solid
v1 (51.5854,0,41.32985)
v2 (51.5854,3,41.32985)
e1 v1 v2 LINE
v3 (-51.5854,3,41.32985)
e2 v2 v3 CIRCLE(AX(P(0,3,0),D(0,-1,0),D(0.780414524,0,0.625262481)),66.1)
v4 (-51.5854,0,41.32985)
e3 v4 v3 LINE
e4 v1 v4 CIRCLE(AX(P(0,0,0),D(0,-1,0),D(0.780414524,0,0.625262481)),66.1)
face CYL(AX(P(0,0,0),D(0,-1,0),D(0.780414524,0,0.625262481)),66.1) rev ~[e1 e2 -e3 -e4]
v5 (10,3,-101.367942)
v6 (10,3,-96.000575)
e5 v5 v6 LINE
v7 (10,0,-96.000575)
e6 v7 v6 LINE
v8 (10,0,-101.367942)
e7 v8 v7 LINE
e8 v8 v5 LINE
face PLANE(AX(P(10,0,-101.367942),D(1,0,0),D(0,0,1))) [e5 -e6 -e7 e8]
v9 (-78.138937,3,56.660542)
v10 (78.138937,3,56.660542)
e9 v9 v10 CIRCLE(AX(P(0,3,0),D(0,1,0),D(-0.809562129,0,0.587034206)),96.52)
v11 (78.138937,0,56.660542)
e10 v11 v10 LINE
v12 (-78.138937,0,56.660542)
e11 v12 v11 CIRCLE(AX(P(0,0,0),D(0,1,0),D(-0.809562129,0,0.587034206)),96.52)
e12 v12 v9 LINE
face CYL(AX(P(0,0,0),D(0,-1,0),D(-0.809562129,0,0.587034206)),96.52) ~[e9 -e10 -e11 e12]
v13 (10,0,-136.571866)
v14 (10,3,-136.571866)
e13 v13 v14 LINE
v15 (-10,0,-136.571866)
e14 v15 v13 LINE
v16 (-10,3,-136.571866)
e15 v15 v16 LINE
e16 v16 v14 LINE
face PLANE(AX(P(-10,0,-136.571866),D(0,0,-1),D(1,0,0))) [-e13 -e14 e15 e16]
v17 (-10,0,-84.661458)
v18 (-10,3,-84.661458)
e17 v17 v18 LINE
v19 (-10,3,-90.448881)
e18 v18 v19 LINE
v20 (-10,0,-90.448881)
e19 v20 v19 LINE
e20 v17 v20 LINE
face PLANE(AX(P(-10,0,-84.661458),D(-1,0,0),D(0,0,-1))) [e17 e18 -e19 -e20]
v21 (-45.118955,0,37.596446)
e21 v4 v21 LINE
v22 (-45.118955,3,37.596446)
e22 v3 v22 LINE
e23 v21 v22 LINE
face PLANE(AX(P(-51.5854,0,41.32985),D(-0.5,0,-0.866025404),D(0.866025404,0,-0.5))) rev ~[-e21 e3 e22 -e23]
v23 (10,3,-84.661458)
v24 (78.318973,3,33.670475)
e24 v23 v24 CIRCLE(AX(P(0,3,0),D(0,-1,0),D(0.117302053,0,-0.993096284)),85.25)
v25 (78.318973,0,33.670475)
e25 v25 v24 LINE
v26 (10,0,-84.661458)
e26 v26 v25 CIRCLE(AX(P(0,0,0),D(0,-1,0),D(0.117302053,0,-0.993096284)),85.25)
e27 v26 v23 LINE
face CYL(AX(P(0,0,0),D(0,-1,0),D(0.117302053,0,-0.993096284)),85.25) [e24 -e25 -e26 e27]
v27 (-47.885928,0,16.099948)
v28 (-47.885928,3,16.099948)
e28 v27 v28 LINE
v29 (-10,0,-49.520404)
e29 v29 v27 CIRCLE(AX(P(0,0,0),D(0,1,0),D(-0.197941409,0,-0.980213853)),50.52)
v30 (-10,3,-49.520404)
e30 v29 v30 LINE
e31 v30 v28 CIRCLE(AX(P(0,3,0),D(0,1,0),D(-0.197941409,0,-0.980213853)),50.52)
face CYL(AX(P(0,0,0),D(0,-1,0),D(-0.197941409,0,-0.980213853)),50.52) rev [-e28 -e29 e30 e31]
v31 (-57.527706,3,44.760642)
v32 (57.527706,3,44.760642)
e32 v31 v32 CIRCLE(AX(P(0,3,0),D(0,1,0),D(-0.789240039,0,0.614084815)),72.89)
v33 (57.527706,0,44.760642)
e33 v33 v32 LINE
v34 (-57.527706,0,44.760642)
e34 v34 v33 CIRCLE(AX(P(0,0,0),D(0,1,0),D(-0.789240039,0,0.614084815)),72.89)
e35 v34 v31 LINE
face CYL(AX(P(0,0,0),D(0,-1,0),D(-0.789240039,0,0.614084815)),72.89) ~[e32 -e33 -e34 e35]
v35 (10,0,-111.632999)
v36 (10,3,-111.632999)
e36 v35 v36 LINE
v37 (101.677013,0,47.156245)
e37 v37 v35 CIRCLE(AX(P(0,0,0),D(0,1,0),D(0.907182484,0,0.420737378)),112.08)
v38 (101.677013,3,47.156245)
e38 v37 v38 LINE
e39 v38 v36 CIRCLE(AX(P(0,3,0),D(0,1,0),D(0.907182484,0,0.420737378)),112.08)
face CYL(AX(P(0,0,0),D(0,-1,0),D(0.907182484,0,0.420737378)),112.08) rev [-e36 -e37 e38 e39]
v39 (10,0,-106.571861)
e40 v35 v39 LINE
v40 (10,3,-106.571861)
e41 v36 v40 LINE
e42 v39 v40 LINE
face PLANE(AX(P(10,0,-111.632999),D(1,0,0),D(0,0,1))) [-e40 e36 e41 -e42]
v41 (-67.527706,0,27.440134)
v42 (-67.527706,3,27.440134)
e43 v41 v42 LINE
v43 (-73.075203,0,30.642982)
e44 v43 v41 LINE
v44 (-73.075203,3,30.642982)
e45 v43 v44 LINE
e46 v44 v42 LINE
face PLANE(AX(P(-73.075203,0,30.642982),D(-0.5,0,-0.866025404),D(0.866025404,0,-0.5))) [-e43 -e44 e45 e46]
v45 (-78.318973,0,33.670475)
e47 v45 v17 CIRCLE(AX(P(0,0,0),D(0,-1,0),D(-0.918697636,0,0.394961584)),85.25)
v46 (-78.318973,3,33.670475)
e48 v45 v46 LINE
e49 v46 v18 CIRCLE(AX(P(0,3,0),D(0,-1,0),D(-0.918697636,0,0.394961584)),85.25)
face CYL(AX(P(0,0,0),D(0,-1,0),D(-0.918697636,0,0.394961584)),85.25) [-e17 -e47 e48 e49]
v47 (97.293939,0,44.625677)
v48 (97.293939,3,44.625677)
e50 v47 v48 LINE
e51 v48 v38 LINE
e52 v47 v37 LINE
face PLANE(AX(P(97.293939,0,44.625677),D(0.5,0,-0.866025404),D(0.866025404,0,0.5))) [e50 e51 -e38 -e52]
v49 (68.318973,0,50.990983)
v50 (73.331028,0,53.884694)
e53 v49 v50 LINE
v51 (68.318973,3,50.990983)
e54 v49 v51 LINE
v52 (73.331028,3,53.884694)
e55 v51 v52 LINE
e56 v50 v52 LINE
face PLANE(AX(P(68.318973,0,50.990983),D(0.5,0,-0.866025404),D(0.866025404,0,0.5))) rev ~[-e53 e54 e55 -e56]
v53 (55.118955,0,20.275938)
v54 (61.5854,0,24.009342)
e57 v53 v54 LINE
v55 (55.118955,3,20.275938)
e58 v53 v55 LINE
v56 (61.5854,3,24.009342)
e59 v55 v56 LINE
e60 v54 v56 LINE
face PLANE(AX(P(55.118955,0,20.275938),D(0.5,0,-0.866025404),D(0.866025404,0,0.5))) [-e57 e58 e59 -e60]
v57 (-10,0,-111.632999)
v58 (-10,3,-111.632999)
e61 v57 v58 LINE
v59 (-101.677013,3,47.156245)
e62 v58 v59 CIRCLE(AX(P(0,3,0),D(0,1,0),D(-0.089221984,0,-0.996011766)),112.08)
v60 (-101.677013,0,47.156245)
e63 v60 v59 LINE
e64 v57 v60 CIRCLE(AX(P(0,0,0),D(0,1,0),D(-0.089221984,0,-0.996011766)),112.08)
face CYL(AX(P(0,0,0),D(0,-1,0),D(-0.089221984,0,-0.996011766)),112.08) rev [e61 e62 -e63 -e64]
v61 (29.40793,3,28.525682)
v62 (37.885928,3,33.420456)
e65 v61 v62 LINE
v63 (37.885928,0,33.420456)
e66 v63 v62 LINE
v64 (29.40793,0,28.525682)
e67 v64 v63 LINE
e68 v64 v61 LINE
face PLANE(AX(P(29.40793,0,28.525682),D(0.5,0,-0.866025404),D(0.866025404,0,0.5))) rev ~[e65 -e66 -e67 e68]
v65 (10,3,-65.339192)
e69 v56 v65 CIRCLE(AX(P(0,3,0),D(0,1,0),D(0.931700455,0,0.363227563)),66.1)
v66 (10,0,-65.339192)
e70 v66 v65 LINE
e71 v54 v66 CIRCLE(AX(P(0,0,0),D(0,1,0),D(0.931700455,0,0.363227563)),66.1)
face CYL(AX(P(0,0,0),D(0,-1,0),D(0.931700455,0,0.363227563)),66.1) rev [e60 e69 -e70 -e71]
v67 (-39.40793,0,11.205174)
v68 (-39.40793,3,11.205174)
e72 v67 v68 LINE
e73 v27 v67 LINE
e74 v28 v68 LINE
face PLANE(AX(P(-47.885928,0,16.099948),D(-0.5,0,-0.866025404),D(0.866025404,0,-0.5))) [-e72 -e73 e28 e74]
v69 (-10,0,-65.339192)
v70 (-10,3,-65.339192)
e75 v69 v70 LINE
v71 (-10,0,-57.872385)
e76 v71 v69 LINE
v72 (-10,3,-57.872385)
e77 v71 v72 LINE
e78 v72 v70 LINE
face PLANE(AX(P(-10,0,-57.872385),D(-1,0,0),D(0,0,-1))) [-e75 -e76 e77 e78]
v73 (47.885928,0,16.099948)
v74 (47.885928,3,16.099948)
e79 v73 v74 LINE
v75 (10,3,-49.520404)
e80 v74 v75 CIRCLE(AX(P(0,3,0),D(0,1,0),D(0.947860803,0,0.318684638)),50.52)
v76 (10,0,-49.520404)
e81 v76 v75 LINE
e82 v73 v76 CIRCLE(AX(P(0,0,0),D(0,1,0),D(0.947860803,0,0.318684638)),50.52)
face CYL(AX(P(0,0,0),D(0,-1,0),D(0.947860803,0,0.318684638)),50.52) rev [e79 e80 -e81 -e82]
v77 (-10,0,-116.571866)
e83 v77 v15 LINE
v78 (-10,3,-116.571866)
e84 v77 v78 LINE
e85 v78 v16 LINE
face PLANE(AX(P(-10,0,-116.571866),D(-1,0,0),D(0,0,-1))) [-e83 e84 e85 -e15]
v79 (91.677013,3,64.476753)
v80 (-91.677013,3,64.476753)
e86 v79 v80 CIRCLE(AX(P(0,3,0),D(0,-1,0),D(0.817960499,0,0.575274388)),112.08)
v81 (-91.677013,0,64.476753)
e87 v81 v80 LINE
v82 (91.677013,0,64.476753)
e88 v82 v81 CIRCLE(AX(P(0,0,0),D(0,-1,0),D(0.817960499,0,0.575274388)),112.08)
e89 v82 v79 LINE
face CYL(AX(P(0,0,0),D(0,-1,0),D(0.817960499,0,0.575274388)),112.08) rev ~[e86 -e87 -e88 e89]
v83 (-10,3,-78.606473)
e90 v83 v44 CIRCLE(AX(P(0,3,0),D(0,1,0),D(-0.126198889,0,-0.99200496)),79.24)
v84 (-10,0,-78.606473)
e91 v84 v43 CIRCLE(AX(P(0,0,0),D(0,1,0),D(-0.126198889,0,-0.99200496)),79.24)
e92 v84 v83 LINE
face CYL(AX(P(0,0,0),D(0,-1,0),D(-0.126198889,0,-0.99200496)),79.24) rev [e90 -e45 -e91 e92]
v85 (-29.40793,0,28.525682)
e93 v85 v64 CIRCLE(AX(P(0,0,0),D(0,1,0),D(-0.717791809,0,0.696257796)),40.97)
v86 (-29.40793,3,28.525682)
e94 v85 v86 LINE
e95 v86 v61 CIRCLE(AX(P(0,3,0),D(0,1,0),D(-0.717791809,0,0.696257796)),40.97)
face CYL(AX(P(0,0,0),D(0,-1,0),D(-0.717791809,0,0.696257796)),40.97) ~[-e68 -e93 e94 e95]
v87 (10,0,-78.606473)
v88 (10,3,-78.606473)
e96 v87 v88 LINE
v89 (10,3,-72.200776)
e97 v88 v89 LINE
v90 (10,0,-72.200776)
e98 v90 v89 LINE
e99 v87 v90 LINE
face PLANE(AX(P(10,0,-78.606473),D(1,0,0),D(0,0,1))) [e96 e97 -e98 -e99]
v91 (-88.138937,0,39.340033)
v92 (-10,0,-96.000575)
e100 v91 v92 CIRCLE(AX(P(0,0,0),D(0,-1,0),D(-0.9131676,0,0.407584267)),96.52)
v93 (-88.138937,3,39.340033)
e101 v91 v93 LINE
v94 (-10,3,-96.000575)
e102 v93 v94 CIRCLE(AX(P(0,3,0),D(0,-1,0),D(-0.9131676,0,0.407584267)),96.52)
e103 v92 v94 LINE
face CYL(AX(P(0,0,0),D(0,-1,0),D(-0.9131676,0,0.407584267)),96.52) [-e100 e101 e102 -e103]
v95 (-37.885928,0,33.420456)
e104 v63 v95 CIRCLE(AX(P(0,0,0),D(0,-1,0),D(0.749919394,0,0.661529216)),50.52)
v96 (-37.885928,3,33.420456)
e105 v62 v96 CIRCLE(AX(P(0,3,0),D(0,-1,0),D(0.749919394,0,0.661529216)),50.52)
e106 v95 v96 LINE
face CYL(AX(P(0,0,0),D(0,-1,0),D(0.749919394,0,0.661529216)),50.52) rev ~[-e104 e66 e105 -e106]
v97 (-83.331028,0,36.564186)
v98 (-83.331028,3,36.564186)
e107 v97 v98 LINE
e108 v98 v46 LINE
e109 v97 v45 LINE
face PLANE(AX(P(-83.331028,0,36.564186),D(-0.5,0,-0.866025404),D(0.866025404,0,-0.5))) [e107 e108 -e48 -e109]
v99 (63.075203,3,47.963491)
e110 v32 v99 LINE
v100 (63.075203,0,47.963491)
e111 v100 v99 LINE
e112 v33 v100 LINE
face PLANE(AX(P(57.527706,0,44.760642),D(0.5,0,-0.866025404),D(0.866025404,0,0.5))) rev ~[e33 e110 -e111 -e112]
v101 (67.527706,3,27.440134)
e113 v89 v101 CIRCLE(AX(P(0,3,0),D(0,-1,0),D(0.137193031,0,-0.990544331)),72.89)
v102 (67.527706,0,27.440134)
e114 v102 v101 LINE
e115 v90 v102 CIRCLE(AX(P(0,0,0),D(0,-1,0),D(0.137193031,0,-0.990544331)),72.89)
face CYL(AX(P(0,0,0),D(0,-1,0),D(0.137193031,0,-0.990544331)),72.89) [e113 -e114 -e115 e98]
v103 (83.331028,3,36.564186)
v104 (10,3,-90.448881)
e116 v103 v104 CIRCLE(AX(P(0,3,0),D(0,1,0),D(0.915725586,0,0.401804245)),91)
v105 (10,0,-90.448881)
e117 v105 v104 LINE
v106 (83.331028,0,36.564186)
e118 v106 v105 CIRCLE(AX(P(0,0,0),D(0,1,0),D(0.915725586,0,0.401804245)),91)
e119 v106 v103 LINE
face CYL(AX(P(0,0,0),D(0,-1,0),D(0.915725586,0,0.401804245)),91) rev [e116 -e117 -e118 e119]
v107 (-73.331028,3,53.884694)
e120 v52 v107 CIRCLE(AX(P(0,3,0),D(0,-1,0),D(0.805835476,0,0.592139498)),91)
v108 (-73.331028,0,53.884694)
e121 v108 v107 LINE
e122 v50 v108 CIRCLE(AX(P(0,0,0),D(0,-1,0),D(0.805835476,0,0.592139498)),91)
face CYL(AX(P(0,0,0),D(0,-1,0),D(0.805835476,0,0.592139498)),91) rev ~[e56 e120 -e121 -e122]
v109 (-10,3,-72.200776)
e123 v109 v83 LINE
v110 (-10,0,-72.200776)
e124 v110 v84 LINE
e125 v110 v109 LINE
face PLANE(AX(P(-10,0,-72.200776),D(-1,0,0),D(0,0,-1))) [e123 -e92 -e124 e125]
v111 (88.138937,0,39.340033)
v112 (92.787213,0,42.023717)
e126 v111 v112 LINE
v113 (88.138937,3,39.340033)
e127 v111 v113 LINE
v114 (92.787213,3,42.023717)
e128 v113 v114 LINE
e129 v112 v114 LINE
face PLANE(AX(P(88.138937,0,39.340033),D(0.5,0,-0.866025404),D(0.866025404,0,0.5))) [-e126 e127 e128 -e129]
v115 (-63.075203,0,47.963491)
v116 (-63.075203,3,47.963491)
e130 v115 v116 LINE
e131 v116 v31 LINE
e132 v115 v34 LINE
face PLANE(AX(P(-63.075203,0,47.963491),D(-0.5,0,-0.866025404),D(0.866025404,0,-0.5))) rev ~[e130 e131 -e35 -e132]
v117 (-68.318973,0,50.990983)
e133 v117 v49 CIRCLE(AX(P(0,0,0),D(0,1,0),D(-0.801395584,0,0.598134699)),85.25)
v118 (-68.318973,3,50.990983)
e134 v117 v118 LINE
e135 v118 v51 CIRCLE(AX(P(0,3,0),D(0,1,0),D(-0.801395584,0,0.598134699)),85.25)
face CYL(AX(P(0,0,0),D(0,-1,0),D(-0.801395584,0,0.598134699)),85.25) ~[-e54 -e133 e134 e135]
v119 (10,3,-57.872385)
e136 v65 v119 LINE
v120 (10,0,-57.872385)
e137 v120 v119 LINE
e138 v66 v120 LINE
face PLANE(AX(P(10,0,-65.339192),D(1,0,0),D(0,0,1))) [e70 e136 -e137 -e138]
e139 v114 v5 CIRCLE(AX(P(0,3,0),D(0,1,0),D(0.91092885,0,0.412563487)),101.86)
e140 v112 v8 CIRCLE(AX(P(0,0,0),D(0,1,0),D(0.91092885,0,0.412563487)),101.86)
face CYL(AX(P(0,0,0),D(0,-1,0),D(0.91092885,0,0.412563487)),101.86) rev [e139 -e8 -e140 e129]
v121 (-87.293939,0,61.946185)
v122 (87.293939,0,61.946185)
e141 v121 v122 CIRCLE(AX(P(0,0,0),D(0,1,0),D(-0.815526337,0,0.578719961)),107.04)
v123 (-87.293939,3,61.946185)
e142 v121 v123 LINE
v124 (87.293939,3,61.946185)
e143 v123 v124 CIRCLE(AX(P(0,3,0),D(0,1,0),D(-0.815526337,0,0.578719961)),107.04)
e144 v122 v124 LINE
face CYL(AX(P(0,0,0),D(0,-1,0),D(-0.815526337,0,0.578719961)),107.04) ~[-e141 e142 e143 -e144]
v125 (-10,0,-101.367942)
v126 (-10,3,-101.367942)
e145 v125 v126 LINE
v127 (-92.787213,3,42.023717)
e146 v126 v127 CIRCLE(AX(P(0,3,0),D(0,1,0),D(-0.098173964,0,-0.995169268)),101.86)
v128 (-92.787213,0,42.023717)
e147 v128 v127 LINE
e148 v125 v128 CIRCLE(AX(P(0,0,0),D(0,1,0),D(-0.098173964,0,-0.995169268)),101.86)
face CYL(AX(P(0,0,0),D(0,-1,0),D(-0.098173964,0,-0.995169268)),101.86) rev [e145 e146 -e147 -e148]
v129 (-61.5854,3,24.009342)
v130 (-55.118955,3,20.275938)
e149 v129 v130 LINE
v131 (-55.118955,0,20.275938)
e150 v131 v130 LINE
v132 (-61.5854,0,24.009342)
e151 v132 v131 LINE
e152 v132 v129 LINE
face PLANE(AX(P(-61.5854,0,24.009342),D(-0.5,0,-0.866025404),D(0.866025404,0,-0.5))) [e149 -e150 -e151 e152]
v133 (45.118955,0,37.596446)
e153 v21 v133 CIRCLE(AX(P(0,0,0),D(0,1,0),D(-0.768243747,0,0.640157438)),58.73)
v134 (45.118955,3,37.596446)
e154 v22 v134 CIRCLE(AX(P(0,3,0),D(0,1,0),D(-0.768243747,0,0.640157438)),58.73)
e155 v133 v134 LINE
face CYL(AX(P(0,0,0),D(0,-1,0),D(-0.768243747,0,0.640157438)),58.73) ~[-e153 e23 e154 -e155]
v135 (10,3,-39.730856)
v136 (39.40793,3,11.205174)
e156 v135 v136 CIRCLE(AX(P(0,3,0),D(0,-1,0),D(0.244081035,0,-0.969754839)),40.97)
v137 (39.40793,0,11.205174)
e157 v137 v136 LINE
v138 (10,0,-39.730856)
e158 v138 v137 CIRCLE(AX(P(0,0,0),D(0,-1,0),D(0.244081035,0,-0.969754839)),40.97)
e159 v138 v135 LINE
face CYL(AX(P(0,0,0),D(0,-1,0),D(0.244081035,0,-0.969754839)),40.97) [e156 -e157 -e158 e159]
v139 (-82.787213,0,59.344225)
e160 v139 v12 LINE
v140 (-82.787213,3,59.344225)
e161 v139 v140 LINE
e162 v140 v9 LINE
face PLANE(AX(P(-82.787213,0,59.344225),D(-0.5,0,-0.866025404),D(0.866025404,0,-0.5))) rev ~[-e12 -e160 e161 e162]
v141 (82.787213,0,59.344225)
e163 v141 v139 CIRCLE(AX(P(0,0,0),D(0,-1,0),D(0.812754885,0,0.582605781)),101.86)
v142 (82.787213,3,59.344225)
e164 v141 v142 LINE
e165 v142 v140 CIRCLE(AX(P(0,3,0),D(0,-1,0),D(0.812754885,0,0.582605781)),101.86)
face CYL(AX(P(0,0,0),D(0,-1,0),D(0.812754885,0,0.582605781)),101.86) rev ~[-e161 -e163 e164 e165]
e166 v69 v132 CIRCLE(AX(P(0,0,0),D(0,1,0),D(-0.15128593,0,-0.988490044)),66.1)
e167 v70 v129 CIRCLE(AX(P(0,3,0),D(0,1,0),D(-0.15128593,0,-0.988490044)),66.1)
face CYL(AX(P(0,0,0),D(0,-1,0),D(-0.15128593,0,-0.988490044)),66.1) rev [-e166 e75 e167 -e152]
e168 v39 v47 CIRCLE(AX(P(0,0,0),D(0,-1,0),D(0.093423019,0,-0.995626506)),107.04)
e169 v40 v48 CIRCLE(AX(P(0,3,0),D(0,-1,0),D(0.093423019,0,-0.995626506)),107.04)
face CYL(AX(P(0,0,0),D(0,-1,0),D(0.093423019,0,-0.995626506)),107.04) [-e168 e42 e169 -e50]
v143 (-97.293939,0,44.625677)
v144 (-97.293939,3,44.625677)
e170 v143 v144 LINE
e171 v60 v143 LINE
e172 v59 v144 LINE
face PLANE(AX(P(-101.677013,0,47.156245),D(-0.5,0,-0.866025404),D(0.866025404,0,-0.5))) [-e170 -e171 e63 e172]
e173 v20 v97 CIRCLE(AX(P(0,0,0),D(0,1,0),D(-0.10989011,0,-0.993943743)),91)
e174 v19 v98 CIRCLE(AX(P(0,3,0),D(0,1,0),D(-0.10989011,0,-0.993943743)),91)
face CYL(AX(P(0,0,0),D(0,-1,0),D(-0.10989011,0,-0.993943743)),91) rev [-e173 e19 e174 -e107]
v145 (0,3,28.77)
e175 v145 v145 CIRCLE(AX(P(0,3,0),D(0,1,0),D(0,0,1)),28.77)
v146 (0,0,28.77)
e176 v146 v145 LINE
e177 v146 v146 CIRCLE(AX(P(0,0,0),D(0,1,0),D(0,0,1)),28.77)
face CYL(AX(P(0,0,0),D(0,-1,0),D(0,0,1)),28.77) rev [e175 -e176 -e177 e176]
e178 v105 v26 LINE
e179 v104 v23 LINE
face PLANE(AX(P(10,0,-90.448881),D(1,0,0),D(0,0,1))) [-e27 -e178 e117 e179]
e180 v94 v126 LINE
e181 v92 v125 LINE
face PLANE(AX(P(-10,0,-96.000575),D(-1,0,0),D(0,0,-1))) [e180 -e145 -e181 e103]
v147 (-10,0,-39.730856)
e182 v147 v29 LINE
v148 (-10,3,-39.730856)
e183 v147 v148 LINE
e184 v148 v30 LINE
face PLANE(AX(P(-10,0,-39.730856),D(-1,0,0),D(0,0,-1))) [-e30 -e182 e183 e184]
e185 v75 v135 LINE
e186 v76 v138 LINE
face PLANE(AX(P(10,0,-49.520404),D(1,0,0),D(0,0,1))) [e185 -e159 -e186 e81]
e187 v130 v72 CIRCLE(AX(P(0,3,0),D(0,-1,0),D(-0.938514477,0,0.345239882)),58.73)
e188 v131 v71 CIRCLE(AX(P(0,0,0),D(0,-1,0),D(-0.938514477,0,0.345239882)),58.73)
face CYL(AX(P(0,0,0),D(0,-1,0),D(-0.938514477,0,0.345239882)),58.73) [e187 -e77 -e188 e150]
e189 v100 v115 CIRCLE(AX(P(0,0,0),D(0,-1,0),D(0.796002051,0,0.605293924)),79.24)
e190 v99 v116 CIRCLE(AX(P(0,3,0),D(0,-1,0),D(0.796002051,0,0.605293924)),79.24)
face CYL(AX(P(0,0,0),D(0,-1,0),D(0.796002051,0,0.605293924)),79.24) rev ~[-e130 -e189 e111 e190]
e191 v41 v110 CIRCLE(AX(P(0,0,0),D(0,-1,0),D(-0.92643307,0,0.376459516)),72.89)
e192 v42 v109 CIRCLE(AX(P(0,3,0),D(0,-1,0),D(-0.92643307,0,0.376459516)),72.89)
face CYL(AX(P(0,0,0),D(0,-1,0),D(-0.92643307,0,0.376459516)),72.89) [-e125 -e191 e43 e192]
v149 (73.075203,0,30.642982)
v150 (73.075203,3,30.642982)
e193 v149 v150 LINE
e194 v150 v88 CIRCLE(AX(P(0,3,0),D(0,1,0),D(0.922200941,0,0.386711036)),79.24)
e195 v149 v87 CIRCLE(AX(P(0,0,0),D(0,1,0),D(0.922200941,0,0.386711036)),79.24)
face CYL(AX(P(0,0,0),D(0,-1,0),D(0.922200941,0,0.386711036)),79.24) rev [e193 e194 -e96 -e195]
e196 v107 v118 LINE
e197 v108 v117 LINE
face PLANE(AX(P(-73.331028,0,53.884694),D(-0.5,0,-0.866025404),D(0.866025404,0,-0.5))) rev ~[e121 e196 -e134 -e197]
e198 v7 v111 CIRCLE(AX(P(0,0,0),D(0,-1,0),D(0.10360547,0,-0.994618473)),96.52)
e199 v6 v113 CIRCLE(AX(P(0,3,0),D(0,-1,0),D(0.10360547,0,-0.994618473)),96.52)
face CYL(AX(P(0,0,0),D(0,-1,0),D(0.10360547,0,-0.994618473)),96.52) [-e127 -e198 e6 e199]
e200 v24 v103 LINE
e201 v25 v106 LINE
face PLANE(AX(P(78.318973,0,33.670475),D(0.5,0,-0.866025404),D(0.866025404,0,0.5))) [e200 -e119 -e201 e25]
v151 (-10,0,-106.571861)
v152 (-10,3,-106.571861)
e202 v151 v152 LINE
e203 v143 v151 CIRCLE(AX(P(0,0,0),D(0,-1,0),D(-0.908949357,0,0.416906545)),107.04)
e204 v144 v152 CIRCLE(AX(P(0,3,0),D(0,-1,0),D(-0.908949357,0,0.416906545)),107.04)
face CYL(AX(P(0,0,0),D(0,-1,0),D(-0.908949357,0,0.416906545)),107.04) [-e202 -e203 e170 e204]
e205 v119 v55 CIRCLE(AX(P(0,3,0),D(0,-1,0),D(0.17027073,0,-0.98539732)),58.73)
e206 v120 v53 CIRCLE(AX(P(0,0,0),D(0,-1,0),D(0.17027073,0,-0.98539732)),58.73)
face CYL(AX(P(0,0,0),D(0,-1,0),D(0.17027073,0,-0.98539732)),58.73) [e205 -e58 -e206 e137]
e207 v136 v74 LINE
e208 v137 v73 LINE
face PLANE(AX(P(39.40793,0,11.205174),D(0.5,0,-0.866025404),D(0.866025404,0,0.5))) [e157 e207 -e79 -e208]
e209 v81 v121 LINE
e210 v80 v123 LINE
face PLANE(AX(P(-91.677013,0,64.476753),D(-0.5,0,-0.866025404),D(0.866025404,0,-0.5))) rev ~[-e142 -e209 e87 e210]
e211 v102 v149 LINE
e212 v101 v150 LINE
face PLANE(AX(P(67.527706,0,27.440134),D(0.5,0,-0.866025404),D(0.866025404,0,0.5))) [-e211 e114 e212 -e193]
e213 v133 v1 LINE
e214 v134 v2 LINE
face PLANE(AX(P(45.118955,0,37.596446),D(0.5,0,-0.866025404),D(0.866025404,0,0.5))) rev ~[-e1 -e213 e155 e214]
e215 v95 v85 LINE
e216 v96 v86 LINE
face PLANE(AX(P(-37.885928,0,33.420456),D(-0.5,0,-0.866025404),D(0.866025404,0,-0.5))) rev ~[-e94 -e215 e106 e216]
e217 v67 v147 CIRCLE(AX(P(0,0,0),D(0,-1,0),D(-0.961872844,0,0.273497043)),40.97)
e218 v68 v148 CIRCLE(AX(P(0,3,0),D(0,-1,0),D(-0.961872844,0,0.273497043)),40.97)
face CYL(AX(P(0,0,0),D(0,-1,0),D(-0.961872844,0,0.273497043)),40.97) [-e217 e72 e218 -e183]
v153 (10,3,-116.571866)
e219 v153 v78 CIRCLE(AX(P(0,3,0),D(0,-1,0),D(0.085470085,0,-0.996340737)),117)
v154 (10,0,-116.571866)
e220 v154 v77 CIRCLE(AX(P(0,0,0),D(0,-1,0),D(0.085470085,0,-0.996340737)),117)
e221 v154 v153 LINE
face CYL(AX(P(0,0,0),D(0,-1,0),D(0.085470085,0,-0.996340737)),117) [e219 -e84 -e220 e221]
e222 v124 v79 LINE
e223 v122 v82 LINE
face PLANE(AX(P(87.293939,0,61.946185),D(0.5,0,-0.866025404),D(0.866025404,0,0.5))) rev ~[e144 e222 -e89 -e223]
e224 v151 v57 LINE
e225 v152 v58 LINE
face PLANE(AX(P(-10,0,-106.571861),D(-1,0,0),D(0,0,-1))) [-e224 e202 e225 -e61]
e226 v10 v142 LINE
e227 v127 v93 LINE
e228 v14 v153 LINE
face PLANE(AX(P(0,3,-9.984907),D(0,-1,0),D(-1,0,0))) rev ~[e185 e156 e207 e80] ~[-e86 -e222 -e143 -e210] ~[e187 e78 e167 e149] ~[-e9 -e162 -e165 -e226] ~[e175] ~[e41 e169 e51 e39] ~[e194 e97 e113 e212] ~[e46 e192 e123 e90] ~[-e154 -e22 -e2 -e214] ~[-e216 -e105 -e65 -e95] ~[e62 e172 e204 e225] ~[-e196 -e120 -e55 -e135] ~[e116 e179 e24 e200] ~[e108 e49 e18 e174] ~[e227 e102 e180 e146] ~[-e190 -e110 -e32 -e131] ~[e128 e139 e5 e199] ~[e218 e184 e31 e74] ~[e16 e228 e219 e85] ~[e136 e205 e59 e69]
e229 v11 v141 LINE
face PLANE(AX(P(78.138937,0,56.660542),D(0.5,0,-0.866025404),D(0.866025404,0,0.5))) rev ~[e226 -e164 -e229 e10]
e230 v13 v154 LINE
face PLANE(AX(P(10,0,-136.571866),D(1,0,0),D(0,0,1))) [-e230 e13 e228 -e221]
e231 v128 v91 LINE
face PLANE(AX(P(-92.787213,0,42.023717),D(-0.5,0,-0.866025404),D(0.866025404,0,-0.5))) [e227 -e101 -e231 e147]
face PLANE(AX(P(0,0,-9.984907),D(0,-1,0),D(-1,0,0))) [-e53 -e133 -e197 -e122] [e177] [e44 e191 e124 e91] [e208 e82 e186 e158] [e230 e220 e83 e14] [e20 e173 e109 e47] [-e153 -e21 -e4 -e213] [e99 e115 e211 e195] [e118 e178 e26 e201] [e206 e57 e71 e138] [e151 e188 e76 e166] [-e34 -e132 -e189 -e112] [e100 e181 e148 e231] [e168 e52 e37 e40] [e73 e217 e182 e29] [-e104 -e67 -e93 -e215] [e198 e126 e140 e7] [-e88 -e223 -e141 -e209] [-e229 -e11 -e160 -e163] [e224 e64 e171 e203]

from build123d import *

# Parameters (mm, degrees)
SKETCH_4_R      = 28.77
EXTRUDE_2_DEPTH = 3


with BuildPart() as part:
    # 草图4 → 凸台-拉伸2 (new body)
    with BuildSketch(Plane(origin=(0, 0, 0), x_dir=(1, 0, 0), z_dir=(0, 1, 0))):
        with BuildLine():
            Line((-10, 116.571866246), (-10, 136.571866246))
            Line((-10, 136.571866246), (10, 136.571866246))
            Line((10, 136.571866246), (10, 116.571866246))
            ThreePointArc((10, 116.571866246), (0, -117), (-10, 116.571866246))
        make_face()
        with Locations(Location((0, 0, 0), (0, 0, 270))):
            Circle(SKETCH_4_R, mode=Mode.SUBTRACT)
        with BuildLine():
            Line((-101.67701278, -47.156245315), (-97.293939129, -44.625676563))
            ThreePointArc((-97.293939129, -44.625676563), (-92.699359221, 53.52), (-10, 106.571861202))
            Line((-10, 106.571861202), (-10, 111.632998706))
            ThreePointArc((-10, 111.632998706), (-97.064127256, 56.04), (-101.67701278, -47.156245315))
        make_face(mode=Mode.SUBTRACT)
        with BuildLine():
            Line((-92.787212622, -42.023716801), (-88.138936726, -39.340033461))
            ThreePointArc((-88.138936726, -39.340033461), (-83.588771973, 48.26), (-10, 96.000574998))
            Line((-10, 96.000574998), (-10, 101.367941678))
            ThreePointArc((-10, 101.367941678), (-88.213347629, 50.93), (-92.787212622, -42.023716801))
        make_face(mode=Mode.SUBTRACT)
        with BuildLine():
            Line((-83.331028335, -36.564186257), (-78.318973499, -33.670475049))
            ThreePointArc((-78.318973499, -33.670475049), (-73.828665673, 42.625), (-10, 84.661458173))
            Line((-10, 84.661458173), (-10, 90.44888059))
            ThreePointArc((-10, 90.44888059), (-78.808311744, 45.5), (-83.331028335, -36.564186257))
        make_face(mode=Mode.SUBTRACT)
        with BuildLine():
            Line((-73.075202534, -30.64298247), (-67.527706459, -27.440134118))
            ThreePointArc((-67.527706459, -27.440134118), (-63.124591682, 36.445), (-10, 72.200776312))
            Line((-10, 72.200776312), (-10, 78.606473016))
            ThreePointArc((-10, 78.606473016), (-68.623852996, 39.62), (-73.075202534, -30.64298247))
        make_face(mode=Mode.SUBTRACT)
        with BuildLine():
            Line((-61.58540006, -24.009341919), (-55.118955246, -20.275938265))
            ThreePointArc((-55.118955246, -20.275938265), (-50.861671964, 29.365), (-10, 57.872384606))
            Line((-10, 57.872384606), (-10, 65.339191914))
            ThreePointArc((-10, 65.339191914), (-57.24427919, 33.05), (-61.58540006, -24.009341919))
        make_face(mode=Mode.SUBTRACT)
        with BuildLine():
            Line((-47.885927762, -16.0999479), (-39.407930409, -11.205173846))
            ThreePointArc((-39.407930409, -11.205173846), (-35.481060793, 20.485), (-10, 39.730855767))
            Line((-10, 39.730855767), (-10, 49.520403876))
            ThreePointArc((-10, 49.520403876), (-43.751603399, 25.26), (-47.885927762, -16.0999479))
        make_face(mode=Mode.SUBTRACT)
        with BuildLine():
            Line((-37.885927762, -33.420455976), (-29.407930409, -28.525681921))
            ThreePointArc((-29.407930409, -28.525681921), (0, -40.97), (29.407930409, -28.525681921))
            Line((29.407930409, -28.525681921), (37.885927762, -33.420455976))
            ThreePointArc((37.885927762, -33.420455976), (0, -50.52), (-37.885927762, -33.420455976))
        make_face(mode=Mode.SUBTRACT)
        with BuildLine():
            Line((-51.58540006, -41.329849995), (-45.118955246, -37.596446341))
            ThreePointArc((-45.118955246, -37.596446341), (0, -58.73), (45.118955246, -37.596446341))
            Line((45.118955246, -37.596446341), (51.58540006, -41.329849995))
            ThreePointArc((51.58540006, -41.329849995), (0, -66.1), (-51.58540006, -41.329849995))
        make_face(mode=Mode.SUBTRACT)
        with BuildLine():
            Line((-63.075202534, -47.963490546), (-57.527706459, -44.760642194))
            ThreePointArc((-57.527706459, -44.760642194), (0, -72.89), (57.527706459, -44.760642194))
            Line((57.527706459, -44.760642194), (63.075202534, -47.963490546))
            ThreePointArc((63.075202534, -47.963490546), (0, -79.24), (-63.075202534, -47.963490546))
        make_face(mode=Mode.SUBTRACT)
        with BuildLine():
            Line((-82.787212622, -59.344224877), (-78.138936726, -56.660541537))
            ThreePointArc((-78.138936726, -56.660541537), (0, -96.52), (78.138936726, -56.660541537))
            Line((78.138936726, -56.660541537), (82.787212622, -59.344224877))
            ThreePointArc((82.787212622, -59.344224877), (0, -101.86), (-82.787212622, -59.344224877))
        make_face(mode=Mode.SUBTRACT)
        with BuildLine():
            Line((-73.331028335, -53.884694333), (-68.318973499, -50.990983124))
            ThreePointArc((-68.318973499, -50.990983124), (0, -85.25), (68.318973499, -50.990983124))
            Line((68.318973499, -50.990983124), (73.331028335, -53.884694333))
            ThreePointArc((73.331028335, -53.884694333), (0, -91), (-73.331028335, -53.884694333))
        make_face(mode=Mode.SUBTRACT)
        with BuildLine():
            Line((-91.67701278, -64.476753391), (-87.293939129, -61.946184639))
            ThreePointArc((-87.293939129, -61.946184639), (0, -107.04), (87.293939129, -61.946184639))
            Line((87.293939129, -61.946184639), (91.67701278, -64.476753391))
            ThreePointArc((91.67701278, -64.476753391), (0, -112.08), (-91.67701278, -64.476753391))
        make_face(mode=Mode.SUBTRACT)
        with BuildLine():
            Line((10, 49.520403876), (10, 39.730855767))
            ThreePointArc((10, 39.730855767), (35.481060793, 20.485), (39.407930409, -11.205173846))
            Line((39.407930409, -11.205173846), (47.885927762, -16.0999479))
            ThreePointArc((47.885927762, -16.0999479), (43.751603399, 25.26), (10, 49.520403876))
        make_face(mode=Mode.SUBTRACT)
        with BuildLine():
            Line((10, 65.339191914), (10, 57.872384606))
            ThreePointArc((10, 57.872384606), (50.861671964, 29.365), (55.118955246, -20.275938265))
            Line((55.118955246, -20.275938265), (61.58540006, -24.009341919))
            ThreePointArc((61.58540006, -24.009341919), (57.24427919, 33.05), (10, 65.339191914))
        make_face(mode=Mode.SUBTRACT)
        with BuildLine():
            Line((10, 78.606473016), (10, 72.200776312))
            ThreePointArc((10, 72.200776312), (63.124591682, 36.445), (67.527706459, -27.440134118))
            Line((67.527706459, -27.440134118), (73.075202534, -30.64298247))
            ThreePointArc((73.075202534, -30.64298247), (68.623852996, 39.62), (10, 78.606473016))
        make_face(mode=Mode.SUBTRACT)
        with BuildLine():
            Line((10, 90.44888059), (10, 84.661458173))
            ThreePointArc((10, 84.661458173), (73.828665673, 42.625), (78.318973499, -33.670475049))
            Line((78.318973499, -33.670475049), (83.331028335, -36.564186257))
            ThreePointArc((83.331028335, -36.564186257), (78.808311744, 45.5), (10, 90.44888059))
        make_face(mode=Mode.SUBTRACT)
        with BuildLine():
            Line((10, 101.367941678), (10, 96.000574998))
            ThreePointArc((10, 96.000574998), (83.588771973, 48.26), (88.138936726, -39.340033461))
            Line((88.138936726, -39.340033461), (92.787212622, -42.023716801))
            ThreePointArc((92.787212622, -42.023716801), (88.213347629, 50.93), (10, 101.367941678))
        make_face(mode=Mode.SUBTRACT)
        with BuildLine():
            Line((10, 111.632998706), (10, 106.571861202))
            ThreePointArc((10, 106.571861202), (92.699359221, 53.52), (97.293939129, -44.625676563))
            Line((97.293939129, -44.625676563), (101.67701278, -47.156245315))
            ThreePointArc((101.67701278, -47.156245315), (97.064127256, 56.04), (10, 111.632998706))
        make_face(mode=Mode.SUBTRACT)
    extrude(amount=EXTRUDE_2_DEPTH)


solid = part.part
